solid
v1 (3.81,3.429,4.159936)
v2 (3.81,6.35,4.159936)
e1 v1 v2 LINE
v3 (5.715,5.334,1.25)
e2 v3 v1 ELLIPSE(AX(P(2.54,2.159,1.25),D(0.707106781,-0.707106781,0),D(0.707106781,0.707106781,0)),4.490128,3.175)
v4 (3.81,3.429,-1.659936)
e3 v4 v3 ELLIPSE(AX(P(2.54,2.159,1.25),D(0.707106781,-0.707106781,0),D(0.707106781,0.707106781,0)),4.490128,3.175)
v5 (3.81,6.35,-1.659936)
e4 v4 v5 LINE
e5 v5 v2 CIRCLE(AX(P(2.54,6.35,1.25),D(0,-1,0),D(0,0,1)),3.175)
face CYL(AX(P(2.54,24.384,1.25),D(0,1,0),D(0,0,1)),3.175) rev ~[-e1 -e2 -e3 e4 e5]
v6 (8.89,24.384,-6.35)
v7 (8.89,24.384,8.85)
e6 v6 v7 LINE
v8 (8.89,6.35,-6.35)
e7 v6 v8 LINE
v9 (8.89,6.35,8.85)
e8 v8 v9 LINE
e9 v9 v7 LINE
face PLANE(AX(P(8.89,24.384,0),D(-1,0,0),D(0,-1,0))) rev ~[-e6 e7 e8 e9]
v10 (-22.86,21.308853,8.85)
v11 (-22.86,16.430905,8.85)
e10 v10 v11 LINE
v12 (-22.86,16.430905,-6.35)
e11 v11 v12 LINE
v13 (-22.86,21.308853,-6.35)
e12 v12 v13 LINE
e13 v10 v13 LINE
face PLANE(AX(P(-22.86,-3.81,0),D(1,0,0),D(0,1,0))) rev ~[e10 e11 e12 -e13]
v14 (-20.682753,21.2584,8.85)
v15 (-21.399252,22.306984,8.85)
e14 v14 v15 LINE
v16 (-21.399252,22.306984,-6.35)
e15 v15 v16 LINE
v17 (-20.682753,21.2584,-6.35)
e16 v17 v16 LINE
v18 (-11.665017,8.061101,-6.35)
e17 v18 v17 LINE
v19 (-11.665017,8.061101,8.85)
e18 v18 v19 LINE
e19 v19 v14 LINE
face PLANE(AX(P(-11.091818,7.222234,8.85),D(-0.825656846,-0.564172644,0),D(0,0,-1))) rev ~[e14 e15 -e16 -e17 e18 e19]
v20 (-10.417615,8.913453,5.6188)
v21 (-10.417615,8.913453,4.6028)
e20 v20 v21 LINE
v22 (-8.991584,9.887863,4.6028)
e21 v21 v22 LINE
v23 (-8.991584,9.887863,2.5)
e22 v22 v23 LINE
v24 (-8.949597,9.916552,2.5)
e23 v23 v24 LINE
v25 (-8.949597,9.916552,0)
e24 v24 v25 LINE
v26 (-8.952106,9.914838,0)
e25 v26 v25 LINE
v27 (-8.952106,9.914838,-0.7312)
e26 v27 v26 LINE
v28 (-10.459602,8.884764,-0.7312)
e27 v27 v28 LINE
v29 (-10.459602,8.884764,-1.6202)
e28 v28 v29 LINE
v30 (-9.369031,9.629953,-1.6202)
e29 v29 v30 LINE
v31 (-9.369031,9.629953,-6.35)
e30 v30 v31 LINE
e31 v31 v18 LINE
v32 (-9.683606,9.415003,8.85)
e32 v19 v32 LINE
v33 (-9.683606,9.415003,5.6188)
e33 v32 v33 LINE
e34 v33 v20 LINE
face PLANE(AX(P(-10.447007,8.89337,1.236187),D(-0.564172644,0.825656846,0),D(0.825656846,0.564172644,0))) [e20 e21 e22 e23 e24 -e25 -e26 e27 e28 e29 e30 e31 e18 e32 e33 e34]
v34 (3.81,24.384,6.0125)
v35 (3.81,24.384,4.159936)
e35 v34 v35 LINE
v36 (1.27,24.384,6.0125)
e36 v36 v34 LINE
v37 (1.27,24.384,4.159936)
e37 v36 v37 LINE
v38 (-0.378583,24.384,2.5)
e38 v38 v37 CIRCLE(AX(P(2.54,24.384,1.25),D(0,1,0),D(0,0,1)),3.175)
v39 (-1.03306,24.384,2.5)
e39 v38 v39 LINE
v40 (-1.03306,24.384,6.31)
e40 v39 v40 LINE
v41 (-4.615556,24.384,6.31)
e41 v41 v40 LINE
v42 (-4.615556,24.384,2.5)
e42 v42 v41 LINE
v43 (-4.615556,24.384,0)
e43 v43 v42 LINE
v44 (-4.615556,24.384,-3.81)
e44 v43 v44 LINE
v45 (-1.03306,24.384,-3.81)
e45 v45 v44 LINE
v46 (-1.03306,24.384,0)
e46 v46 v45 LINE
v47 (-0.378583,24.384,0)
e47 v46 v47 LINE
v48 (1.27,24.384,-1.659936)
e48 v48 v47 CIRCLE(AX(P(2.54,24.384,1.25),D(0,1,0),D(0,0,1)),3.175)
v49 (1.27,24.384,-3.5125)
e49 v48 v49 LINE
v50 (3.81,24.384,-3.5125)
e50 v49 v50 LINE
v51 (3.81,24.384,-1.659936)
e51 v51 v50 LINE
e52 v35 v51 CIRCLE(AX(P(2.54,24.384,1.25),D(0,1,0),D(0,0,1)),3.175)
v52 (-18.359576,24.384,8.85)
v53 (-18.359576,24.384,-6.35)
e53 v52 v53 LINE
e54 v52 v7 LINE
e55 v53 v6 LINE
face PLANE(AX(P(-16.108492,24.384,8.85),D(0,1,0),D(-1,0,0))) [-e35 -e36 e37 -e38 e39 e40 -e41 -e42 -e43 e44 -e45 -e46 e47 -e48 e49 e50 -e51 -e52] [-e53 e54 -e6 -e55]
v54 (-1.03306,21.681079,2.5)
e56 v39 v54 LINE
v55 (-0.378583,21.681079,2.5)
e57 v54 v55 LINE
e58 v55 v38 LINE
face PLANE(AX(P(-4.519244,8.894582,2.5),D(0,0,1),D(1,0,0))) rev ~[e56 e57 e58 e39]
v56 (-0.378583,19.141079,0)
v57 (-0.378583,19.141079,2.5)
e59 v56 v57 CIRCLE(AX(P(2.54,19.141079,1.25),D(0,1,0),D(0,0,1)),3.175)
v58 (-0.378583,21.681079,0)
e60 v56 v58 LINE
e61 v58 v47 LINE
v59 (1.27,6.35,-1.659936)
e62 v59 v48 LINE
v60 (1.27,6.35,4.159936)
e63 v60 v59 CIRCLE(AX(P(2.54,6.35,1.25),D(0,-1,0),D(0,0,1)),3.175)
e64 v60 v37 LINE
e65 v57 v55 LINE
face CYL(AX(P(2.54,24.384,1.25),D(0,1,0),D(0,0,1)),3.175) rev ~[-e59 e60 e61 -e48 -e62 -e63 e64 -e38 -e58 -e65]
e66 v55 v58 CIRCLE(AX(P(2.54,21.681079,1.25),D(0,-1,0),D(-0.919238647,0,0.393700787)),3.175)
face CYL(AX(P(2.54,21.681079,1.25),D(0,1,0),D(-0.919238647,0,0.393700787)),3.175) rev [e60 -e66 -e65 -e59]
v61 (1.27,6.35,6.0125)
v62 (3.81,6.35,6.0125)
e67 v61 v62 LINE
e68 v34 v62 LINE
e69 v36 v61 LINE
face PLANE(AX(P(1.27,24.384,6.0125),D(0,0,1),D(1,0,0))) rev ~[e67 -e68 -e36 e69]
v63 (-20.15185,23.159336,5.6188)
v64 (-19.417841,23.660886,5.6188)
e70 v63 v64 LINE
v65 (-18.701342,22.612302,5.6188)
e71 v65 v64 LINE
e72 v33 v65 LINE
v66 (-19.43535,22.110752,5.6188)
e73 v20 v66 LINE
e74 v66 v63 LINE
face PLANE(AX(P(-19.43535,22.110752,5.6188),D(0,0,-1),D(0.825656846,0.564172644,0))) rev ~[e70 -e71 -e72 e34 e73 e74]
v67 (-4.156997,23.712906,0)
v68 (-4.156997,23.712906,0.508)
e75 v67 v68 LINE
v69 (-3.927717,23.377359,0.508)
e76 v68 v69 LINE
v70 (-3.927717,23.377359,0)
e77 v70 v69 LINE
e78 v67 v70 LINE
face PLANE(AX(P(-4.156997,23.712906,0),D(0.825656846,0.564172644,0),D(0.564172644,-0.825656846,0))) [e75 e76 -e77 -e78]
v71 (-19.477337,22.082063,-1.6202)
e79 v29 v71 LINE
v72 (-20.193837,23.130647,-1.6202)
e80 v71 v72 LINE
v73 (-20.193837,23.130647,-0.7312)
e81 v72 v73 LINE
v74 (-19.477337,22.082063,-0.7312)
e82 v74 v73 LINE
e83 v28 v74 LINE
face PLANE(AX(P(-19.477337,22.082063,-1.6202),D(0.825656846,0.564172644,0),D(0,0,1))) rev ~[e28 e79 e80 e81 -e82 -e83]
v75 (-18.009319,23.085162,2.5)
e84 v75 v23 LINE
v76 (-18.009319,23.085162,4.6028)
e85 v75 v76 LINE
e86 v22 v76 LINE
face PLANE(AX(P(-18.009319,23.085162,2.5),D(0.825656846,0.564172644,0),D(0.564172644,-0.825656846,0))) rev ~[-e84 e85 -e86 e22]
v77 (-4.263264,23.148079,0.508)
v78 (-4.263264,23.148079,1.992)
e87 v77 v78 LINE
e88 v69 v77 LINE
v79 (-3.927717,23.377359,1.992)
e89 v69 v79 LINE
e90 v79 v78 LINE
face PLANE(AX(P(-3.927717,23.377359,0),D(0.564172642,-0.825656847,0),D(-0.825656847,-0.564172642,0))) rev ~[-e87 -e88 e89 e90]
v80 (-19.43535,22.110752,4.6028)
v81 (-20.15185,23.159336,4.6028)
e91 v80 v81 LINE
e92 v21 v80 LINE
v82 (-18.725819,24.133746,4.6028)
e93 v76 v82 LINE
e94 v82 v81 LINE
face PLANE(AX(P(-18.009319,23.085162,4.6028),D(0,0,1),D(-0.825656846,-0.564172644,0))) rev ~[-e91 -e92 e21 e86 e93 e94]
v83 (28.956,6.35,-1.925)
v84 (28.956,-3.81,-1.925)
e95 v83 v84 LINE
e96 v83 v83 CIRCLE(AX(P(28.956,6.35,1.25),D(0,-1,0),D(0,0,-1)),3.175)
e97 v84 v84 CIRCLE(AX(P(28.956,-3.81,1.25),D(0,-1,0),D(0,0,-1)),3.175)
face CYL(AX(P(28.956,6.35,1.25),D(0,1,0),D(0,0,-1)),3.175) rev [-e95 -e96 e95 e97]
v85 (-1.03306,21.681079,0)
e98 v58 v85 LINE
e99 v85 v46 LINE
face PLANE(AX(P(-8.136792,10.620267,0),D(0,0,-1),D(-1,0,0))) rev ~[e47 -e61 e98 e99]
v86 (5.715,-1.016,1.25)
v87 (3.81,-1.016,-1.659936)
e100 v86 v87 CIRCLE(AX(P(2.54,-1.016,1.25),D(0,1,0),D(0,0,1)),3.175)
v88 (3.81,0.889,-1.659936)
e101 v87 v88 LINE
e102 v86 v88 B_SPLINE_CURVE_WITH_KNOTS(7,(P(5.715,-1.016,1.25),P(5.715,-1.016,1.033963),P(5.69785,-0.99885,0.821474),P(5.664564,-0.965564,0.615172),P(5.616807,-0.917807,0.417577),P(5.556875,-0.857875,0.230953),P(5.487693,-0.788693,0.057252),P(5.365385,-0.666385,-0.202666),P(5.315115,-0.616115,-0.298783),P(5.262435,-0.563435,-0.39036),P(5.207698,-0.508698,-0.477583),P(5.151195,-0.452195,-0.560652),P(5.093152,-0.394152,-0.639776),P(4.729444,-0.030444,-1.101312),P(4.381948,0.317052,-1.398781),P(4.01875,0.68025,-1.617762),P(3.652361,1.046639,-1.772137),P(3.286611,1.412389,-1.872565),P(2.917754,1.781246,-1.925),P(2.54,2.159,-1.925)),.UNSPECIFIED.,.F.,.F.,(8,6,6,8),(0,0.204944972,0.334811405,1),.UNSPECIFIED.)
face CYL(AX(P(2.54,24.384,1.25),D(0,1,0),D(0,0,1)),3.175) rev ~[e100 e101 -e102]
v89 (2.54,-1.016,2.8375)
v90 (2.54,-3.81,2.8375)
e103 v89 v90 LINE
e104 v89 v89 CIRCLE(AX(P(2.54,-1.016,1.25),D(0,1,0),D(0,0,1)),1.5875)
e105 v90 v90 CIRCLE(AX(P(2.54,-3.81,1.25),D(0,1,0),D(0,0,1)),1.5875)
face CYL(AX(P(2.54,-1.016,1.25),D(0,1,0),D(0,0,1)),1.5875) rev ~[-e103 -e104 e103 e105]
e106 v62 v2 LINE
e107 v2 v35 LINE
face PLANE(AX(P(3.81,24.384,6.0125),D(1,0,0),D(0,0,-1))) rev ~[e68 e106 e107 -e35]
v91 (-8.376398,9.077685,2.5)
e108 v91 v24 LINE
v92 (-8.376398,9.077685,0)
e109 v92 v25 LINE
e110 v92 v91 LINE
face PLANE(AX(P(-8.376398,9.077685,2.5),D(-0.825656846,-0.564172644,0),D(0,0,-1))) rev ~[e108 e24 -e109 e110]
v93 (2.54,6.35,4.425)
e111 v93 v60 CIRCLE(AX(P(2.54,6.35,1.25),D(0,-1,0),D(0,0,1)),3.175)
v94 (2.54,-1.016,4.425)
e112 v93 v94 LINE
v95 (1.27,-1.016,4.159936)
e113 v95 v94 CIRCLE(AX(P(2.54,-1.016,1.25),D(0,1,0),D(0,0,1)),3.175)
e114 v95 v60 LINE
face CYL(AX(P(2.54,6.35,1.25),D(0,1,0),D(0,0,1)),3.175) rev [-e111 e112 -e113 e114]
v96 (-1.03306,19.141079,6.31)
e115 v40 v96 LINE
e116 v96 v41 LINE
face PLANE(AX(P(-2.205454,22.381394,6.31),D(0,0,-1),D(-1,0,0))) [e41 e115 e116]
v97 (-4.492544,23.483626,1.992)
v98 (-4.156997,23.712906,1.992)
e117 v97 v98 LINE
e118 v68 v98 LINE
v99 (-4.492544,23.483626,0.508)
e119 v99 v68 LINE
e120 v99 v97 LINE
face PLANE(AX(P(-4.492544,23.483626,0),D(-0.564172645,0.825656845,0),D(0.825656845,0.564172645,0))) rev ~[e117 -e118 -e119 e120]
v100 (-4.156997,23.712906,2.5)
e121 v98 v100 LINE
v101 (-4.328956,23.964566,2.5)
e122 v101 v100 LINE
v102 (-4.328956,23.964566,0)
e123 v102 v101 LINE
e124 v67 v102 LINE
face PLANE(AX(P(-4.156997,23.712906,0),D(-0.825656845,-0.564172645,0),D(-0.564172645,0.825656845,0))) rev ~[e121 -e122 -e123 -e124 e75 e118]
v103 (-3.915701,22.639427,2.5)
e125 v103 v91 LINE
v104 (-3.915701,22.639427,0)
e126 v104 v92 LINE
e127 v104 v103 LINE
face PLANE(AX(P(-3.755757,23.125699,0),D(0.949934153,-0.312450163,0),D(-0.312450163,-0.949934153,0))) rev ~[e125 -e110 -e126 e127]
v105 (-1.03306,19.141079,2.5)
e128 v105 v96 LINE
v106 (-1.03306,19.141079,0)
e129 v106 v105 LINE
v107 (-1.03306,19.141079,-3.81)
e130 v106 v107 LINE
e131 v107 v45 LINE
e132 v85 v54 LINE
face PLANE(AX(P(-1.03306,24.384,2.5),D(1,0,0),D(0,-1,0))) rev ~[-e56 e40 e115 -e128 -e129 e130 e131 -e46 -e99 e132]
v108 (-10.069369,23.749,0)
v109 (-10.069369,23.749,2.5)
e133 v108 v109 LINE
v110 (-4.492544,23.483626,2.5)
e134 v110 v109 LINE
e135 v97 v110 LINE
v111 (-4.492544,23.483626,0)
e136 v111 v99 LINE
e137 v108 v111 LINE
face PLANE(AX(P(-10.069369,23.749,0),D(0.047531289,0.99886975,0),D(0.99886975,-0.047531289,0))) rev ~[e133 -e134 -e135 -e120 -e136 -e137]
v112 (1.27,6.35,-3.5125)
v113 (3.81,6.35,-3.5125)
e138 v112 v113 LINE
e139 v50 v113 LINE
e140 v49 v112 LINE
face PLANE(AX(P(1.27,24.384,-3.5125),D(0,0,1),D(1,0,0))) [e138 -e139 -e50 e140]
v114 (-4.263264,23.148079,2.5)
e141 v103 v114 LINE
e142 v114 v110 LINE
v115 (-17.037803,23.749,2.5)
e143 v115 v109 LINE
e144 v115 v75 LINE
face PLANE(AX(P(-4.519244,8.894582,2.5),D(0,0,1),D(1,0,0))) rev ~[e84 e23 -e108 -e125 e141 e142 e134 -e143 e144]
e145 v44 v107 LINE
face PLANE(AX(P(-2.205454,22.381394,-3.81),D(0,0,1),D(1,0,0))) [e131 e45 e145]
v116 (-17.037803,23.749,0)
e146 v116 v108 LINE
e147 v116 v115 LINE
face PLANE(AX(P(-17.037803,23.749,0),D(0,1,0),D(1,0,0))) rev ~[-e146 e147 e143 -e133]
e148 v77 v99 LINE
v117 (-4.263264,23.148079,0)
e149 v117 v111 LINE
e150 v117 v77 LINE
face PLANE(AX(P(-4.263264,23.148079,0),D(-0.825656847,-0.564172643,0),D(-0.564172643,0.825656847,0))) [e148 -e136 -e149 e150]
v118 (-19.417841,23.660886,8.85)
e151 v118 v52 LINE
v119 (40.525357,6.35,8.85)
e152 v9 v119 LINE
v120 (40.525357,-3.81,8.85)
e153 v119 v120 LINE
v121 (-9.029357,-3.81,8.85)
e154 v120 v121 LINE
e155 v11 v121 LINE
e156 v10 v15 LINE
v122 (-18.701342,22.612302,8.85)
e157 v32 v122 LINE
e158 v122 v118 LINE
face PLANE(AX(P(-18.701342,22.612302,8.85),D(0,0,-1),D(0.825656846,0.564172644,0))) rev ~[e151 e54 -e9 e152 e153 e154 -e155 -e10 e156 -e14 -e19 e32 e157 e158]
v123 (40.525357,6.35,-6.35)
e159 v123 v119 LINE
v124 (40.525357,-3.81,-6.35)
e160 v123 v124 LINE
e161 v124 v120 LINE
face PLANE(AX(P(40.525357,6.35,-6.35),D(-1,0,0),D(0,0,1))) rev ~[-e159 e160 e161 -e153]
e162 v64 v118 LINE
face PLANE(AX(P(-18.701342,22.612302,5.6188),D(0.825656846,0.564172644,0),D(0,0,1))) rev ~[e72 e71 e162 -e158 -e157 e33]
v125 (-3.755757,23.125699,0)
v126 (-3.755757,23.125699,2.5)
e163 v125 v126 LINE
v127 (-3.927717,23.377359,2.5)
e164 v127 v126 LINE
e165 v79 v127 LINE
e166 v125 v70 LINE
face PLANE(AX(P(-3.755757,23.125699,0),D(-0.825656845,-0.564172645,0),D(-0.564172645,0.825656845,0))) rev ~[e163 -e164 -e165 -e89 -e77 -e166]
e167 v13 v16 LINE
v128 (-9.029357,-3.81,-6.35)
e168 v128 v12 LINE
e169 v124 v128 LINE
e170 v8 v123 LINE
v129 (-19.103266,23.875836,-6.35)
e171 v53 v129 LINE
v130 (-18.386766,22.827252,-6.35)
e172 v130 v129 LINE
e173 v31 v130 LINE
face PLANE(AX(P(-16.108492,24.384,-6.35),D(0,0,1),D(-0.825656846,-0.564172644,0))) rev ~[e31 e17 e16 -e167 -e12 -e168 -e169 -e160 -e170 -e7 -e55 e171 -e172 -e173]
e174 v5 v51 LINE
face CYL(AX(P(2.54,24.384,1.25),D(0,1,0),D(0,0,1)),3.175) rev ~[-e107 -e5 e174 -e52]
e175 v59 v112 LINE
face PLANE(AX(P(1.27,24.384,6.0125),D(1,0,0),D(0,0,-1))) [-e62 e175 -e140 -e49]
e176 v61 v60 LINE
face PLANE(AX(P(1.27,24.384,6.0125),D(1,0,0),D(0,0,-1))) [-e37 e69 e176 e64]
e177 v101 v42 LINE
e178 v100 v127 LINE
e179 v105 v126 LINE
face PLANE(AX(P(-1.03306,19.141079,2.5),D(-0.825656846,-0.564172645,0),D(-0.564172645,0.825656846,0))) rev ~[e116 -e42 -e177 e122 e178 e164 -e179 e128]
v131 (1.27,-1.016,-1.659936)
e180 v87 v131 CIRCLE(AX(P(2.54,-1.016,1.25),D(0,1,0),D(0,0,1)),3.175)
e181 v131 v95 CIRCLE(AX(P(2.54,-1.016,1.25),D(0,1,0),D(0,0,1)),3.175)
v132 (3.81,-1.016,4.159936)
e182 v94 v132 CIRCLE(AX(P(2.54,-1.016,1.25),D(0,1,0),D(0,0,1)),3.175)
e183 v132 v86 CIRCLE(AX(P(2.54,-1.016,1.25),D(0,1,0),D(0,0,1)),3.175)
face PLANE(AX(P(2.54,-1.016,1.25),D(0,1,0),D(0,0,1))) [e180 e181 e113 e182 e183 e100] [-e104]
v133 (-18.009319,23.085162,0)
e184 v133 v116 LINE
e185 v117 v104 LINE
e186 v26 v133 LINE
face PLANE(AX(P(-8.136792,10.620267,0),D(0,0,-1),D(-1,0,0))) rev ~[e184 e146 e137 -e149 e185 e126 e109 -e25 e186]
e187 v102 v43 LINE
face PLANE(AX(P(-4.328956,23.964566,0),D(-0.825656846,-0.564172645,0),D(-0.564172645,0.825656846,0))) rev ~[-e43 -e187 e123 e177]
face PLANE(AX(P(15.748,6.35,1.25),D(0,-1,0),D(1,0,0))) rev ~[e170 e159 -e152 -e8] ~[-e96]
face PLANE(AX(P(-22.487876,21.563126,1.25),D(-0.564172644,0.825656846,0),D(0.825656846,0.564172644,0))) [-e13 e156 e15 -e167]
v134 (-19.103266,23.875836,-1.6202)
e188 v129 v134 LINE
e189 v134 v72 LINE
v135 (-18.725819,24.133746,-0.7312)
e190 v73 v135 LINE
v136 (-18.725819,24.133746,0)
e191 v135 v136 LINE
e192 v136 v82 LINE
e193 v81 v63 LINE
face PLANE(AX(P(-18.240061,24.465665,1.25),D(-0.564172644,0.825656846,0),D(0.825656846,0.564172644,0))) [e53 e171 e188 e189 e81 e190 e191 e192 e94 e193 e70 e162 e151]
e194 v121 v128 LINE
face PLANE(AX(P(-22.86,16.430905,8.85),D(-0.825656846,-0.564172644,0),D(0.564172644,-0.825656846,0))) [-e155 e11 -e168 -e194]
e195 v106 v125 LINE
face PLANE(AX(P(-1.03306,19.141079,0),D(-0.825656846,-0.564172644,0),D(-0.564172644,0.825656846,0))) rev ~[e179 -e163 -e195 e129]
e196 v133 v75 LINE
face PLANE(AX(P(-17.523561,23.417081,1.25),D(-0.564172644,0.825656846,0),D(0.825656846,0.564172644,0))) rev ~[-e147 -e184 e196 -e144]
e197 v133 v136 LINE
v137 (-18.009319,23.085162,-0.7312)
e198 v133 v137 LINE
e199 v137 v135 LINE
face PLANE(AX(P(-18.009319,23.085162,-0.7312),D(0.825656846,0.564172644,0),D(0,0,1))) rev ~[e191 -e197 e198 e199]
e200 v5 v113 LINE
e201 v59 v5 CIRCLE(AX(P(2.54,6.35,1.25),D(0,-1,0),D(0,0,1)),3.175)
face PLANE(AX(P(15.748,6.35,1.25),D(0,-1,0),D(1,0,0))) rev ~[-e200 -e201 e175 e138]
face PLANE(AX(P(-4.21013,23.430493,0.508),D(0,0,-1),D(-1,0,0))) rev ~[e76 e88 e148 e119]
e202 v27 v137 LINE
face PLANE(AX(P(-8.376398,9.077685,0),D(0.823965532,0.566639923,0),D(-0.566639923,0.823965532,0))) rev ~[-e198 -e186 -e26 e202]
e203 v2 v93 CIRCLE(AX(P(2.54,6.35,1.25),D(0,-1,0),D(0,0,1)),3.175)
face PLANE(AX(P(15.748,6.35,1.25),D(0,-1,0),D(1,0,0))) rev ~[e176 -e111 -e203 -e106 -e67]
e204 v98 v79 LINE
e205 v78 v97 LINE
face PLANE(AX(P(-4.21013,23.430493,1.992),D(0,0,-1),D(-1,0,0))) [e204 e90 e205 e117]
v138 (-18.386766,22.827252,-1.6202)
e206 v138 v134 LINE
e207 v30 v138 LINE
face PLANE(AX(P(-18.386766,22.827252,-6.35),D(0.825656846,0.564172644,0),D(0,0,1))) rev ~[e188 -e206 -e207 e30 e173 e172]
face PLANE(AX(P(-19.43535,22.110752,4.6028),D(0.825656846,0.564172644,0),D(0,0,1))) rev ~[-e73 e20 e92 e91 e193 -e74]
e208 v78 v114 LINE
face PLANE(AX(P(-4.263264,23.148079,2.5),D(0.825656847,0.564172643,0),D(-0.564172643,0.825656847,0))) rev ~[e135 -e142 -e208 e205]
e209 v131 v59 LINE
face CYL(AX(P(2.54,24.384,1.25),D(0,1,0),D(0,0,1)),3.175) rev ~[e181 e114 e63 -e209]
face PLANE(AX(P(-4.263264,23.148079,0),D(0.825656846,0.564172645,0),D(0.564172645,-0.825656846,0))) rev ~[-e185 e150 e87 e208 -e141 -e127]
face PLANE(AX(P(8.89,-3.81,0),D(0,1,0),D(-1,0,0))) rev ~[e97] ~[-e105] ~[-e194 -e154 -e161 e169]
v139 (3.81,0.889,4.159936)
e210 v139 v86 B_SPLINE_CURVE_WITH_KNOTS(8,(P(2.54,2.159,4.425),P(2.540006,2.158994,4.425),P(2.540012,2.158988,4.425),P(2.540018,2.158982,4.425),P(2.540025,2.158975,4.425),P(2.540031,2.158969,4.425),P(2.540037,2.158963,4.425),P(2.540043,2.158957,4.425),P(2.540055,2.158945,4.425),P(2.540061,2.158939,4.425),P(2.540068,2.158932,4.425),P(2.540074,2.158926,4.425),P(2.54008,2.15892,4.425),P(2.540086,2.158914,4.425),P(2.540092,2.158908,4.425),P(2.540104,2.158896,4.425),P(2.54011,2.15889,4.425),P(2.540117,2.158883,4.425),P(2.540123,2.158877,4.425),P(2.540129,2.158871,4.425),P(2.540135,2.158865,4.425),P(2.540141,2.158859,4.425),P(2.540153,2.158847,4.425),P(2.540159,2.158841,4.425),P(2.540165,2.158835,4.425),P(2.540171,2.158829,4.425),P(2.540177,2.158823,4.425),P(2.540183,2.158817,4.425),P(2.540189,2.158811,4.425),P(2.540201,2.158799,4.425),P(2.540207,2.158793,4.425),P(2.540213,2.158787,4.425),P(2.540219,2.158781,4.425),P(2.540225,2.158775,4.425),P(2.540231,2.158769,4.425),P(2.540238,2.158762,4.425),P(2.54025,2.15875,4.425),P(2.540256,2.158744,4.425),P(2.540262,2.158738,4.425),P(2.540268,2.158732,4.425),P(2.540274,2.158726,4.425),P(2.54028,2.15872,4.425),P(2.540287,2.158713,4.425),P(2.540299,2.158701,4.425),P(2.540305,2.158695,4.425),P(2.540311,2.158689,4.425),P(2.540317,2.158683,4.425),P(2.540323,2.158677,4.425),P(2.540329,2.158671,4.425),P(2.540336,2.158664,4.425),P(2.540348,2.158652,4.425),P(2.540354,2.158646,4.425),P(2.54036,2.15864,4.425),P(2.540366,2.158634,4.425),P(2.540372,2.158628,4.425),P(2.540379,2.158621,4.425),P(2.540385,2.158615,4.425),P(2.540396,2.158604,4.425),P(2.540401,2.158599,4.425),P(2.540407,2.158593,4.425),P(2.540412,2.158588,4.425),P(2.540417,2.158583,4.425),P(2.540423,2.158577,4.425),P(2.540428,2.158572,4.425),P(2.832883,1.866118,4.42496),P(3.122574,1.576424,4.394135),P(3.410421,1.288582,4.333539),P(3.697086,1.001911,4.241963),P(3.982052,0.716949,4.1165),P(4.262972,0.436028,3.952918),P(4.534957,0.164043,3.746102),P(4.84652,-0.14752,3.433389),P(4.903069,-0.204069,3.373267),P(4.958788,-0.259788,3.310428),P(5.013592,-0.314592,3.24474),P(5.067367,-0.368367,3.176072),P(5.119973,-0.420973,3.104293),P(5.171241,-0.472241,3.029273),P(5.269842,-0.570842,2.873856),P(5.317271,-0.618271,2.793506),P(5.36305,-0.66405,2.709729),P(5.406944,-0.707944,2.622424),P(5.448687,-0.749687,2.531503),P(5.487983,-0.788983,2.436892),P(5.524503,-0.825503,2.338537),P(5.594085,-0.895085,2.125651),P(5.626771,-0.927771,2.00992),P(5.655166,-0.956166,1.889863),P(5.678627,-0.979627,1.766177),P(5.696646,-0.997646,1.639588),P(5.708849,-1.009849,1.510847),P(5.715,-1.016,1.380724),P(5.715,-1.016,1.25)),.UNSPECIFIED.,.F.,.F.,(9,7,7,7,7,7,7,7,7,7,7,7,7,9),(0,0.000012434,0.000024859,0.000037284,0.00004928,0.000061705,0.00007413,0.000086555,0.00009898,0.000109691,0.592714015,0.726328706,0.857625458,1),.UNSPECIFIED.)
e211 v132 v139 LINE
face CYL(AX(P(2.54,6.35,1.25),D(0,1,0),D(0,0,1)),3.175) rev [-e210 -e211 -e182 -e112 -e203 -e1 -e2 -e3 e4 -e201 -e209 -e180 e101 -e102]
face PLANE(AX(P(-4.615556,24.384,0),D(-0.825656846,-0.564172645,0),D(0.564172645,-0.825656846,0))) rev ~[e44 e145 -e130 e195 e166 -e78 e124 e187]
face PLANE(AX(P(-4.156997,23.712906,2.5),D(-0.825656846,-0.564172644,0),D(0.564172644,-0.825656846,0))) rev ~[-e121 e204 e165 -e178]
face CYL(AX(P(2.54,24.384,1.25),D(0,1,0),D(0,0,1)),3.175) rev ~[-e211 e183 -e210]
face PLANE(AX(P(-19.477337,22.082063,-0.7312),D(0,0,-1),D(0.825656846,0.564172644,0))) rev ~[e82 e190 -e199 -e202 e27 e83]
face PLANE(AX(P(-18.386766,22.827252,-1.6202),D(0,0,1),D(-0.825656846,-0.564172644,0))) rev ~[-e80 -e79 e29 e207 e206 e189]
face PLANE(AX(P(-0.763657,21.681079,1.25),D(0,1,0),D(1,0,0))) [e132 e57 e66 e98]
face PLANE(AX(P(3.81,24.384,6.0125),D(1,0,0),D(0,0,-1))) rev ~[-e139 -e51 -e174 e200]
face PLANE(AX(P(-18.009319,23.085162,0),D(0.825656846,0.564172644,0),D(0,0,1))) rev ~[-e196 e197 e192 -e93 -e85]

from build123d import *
from build123d.topology import SkipClean

# Parameters (mm, degrees)
BOSS_EXTRUDE1_DEPTH     = 2.5
BOSS_EXTRUDE1_2_DEPTH   = 2.5
BOSS_EXTRUDE2_DEPTH     = 6.35
BOSS_EXTRUDE3_DEPTH     = 6.35
SKETCH4_R               = 3.175
CUT_EXTRUDE1_DEPTH      = 25.4
SKETCH5_R               = 1.5875
CUT_EXTRUDE2_DEPTH      = 25.4
CUT_EXTRUDE3_DEPTH      = 25.4
CUT_EXTRUDE4_REACH      = 43
CUT_EXTRUDE4_END_RADIUS = 3.175
CUT_EXTRUDE5_REACH      = 39.36
SKETCH8_W               = 2.54
SKETCH8_H               = 9.525
SKETCH9_W               = 0.7112
SKETCH9_H               = 15.2
BOSS_EXTRUDE4_DEPTH     = 17
BOSS_EXTRUDE5_DEPTH     = 1.016
SKETCH11_W              = 1.176658287
SKETCH11_H              = 2.5
SKETCH11_W_2            = 2.636987944
SKETCH11_H_2            = 15.2
BOSS_EXTRUDE6_DEPTH     = 1.27
CUT_EXTRUDE6_DEPTH      = 38.864332241
BOSS_EXTRUDE7_START     = 2.54
BOSS_EXTRUDE7_DEPTH     = 2.54
BOSS_EXTRUDE8_DEPTH     = 2.54
BOSS_EXTRUDE9_DEPTH     = 0.508
BOSS_EXTRUDE10_DEPTH    = 0.508
CUT_EXTRUDE7_DEPTH      = 3.81
CUT_EXTRUDE8_DEPTH      = 3.81
BOSS_EXTRUDE11_DEPTH    = 3.81
BOSS_EXTRUDE12_START    = -10.16
SKETCH21_W              = 49.554714962
SKETCH21_H              = 15.2
SKETCH21_R              = 3.175
BOSS_EXTRUDE12_DEPTH    = 10.16


with BuildPart() as part:
    # Sketch1 → Boss-Extrude1 (new body)
    with BuildSketch(Plane.XY):
        Polygon((5.08, 0), (0, 0), (0, 19.141079028), (-1.033059908, 19.141079028), (-3.75575709, 23.125698967), (-8.376397661, 9.077684872), (-11.679025045, 6.820994294), (-21.26996, 20.857160675), (-22.86, 19.770683798), (-22.86, -3.81), (8.89, -3.81), (8.89, 24.384), (5.08, 24.384), align=None)
    extrude(amount=BOSS_EXTRUDE1_DEPTH)



with BuildPart() as body_2:
    # Sketch1 → Boss-Extrude1 2 (new body)
    with BuildSketch(Plane.XY):
        Polygon((-10.069369191, 23.749), (-4.328956497, 23.964566322), (-4.615556201, 24.384), (-16.108492032, 24.384), (-17.03780348, 23.749), align=None)
    extrude(amount=BOSS_EXTRUDE1_2_DEPTH)


with BuildPart() as part_1:
    add(part.part)

    add(body_2.part)  # Boss-Extrude2 merges body 2
    # Sketch2 → Boss-Extrude2 (add)
    with BuildSketch(Plane.XY.offset(2.5)):
        Polygon((-11.679025045, 6.820994294), (-21.26996, 20.857160675), (-22.86, 19.770683798), (-22.86, -3.81), (8.89, -3.81), (8.89, 24.384), (5.08, 24.384), (5.08, 0), (0, 0), (0, 19.141079028), (-1.033059908, 19.141079028), (-3.75575709, 23.125698967), (-8.376397661, 9.077684872), align=None)
        Polygon((-16.108492032, 24.384), (-18.00931945, 23.085161582), (-8.418384495, 9.048995201), (-8.376397661, 9.077684872), (-3.75575709, 23.125698967), (-1.033059908, 19.141079028), (0, 19.141079028), (0, 0), (5.08, 0), (5.08, 24.384), align=None)
    extrude(amount=BOSS_EXTRUDE2_DEPTH)

    # Sketch3 → Boss-Extrude3 (add)
    with BuildSketch(Plane(origin=(0, 0, 0), x_dir=(-1, 0, 0), z_dir=(0, 0, -1))):
        Polygon((-8.89, 24.384), (-8.89, -3.81), (22.86, -3.81), (22.86, 19.770683798), (21.26996, 20.857160675), (11.679025045, 6.820994294), (8.376397661, 9.077684872), (18.00931945, 23.085161582), (16.108492032, 24.384), align=None)
    extrude(amount=BOSS_EXTRUDE3_DEPTH)

    # Sketch4 → Cut-Extrude1 (cut)
    with BuildSketch(Plane(origin=(0, 24.384, 0), x_dir=(1, 0, 0), z_dir=(0, 1, 0))):
        with Locations(Location((2.54, -1.25, 0), (0, 0, 270))):
            Circle(SKETCH4_R)
    extrude(amount=-CUT_EXTRUDE1_DEPTH, mode=Mode.SUBTRACT)

    # Sketch5 → Cut-Extrude2 (cut)
    with BuildSketch(Plane(origin=(0, -1.016, 0), x_dir=(1, 0, 0), z_dir=(0, 1, 0))):
        with Locations(Location((2.54, -1.25, 0), (0, 0, 270))):
            Circle(SKETCH5_R)
    extrude(amount=-CUT_EXTRUDE2_DEPTH, mode=Mode.SUBTRACT)

    # Sketch6 → Cut-Extrude3 (cut)
    with BuildSketch(Plane.XY.offset(8.85)):
        Polygon((-22.86, 16.430904611), (-9.029357481, -3.81), (-22.86, -3.81), align=None)
    extrude(amount=-CUT_EXTRUDE3_DEPTH, mode=Mode.SUBTRACT)

    # Cut-Extrude4: up to this cylinder (the profile starts outside it)
    with SkipClean():  # the faces are left unmerged after this step: merging them gives an invalid solid
        cut_extrude4_end = Plane(origin=(2.54, 2.159, 1.25), z_dir=(0, 1, 0)) * Cylinder(CUT_EXTRUDE4_END_RADIUS, 96.045024, mode=Mode.PRIVATE)
        # Sketch7 → Cut-Extrude4 (cut, up to the surface)
        with BuildSketch(Plane(origin=(8.89, 0, 0), x_dir=(0, 0, -1), z_dir=(1, 0, 0)), mode=Mode.PRIVATE) as cut_extrude4_sk1:
            with BuildLine():
                ThreePointArc((1.925, 2.159), (-1.25, 5.334), (-4.425, 2.159))
                Line((-4.425, 2.159), (1.925, 2.159))
            make_face()
        cut_extrude4_tool1 = extrude(cut_extrude4_sk1.sketch, amount=-CUT_EXTRUDE4_REACH, mode=Mode.PRIVATE) - cut_extrude4_end
        add(cut_extrude4_tool1.solids().sort_by_distance((8.89, 3.506512, 1.25))[0], mode=Mode.SUBTRACT)
        # Sketch7 → Cut-Extrude4 (cut, up to the surface)
        with BuildSketch(Plane(origin=(8.89, 0, 0), x_dir=(0, 0, -1), z_dir=(1, 0, 0)), mode=Mode.PRIVATE) as cut_extrude4_sk2:
            with BuildLine():
                Line((1.925, 2.159), (-4.425, 2.159))
                ThreePointArc((-4.425, 2.159), (-3.49506403, -0.08606403), (-1.25, -1.016))
                ThreePointArc((-1.25, -1.016), (0.99506403, -0.08606403), (1.925, 2.159))
            make_face()
        cut_extrude4_tool2 = extrude(cut_extrude4_sk2.sketch, amount=-CUT_EXTRUDE4_REACH, mode=Mode.PRIVATE) - cut_extrude4_end
        add(cut_extrude4_tool2.solids().sort_by_distance((8.89, 0.811488, 1.25))[0], mode=Mode.SUBTRACT)
        # Sketch7 → Cut-Extrude4 (cut, up to the surface)
        with BuildSketch(Plane(origin=(8.89, 0, 0), x_dir=(0, 0, -1), z_dir=(1, 0, 0)), mode=Mode.PRIVATE) as cut_extrude4_sk3:
            with BuildLine():
                ThreePointArc((1.925, 2.159), (-1.25, 5.334), (-4.425, 2.159))
                Line((-4.425, 2.159), (1.925, 2.159))
            make_face()
        cut_extrude4_tool3 = extrude(cut_extrude4_sk3.sketch, amount=-CUT_EXTRUDE4_REACH, mode=Mode.PRIVATE) - cut_extrude4_end
        add(cut_extrude4_tool3.solids().sort_by_distance((8.89, 3.506512, 1.25))[0], mode=Mode.SUBTRACT)
        # Sketch7 → Cut-Extrude4 (cut, up to the surface)
        with BuildSketch(Plane(origin=(8.89, 0, 0), x_dir=(0, 0, -1), z_dir=(1, 0, 0)), mode=Mode.PRIVATE) as cut_extrude4_sk4:
            with BuildLine():
                Line((1.925, 2.159), (-4.425, 2.159))
                ThreePointArc((-4.425, 2.159), (-3.49506403, -0.08606403), (-1.25, -1.016))
                ThreePointArc((-1.25, -1.016), (0.99506403, -0.08606403), (1.925, 2.159))
            make_face()
        cut_extrude4_tool4 = extrude(cut_extrude4_sk4.sketch, amount=-CUT_EXTRUDE4_REACH, mode=Mode.PRIVATE) - cut_extrude4_end
        add(cut_extrude4_tool4.solids().sort_by_distance((8.89, 0.811488, 1.25))[0], mode=Mode.SUBTRACT)

    # Cut-Extrude5: up to this face of the body (flat: up to its plane)
    cut_extrude5_end = Plane(part_1.part.faces().sort_by_distance((4.72156403, -1.016, 3.43156403))[0])
    # Sketch8 → Cut-Extrude5 (cut, up to the picked face)
    with BuildSketch(Plane(origin=(0, 24.384, 0), x_dir=(1, 0, 0), z_dir=(0, 1, 0)), mode=Mode.PRIVATE) as cut_extrude5_sk1:
        with Locations((2.54, -1.25)):
            Rectangle(SKETCH8_W, SKETCH8_H)
    cut_extrude5_tool1 = split(extrude(cut_extrude5_sk1.sketch, amount=-CUT_EXTRUDE5_REACH, mode=Mode.PRIVATE), bisect_by=cut_extrude5_end, keep=Keep.BOTH, mode=Mode.PRIVATE)
    add(cut_extrude5_tool1.solids().sort_by(Axis((2.54, 24.384, 1.25), (0, -1, 0)))[0], mode=Mode.SUBTRACT)

    # Sketch9 → Boss-Extrude4 (add)
    with BuildSketch(Plane(origin=(-6.894633763, 10.090176515, 0), x_dir=(0.825656845959394, 0.5641726444275594, 0), z_dir=(-0.5641726444275594, 0.825656845959394, 0))):
        with Locations((-5.439048594, -1.25)):
            Rectangle(SKETCH9_W, SKETCH9_H)
        Polygon((-1.794648594, 6.35), (-2.302648594, 6.35), (-2.302648594, 1.6202), (-3.623501238, 1.6202), (-3.623501238, 0.7312), (-1.794648594, 0.7312), align=None)
        Polygon((-1.845501238, -8.85), (-1.845501238, -4.6028), (-3.572648594, -4.6028), (-3.572648594, -5.6188), (-2.683648594, -5.6188), (-2.683648594, -8.85), align=None)
    extrude(amount=BOSS_EXTRUDE4_DEPTH)

    # Sketch10 → Boss-Extrude5 (add)
    with BuildSketch(Plane(origin=(-6.894633763, 10.090176515, 0), x_dir=(0.8256568459593948, 0.5641726444275585, 0), z_dir=(-0.5641726444275585, 0.8256568459593948, 0))):
        Polygon((-5.083448594, -8.85), (-2.683648594, -8.85), (-2.683648594, -5.6188), (-3.572648594, -5.6188), (-3.572648594, -4.6028), (-1.845501238, -4.6028), (-1.845501238, -2.5), (-1.794648594, -2.5), (-1.794648594, 0), (-1.794648594, 0.7312), (-3.623501238, 0.7312), (-3.623501238, 1.6202), (-2.302648594, 1.6202), (-2.302648594, 6.35), (-5.083448594, 6.35), align=None)
    extrude(amount=BOSS_EXTRUDE5_DEPTH)

    # Sketch11 → Boss-Extrude6 (add)
    with BuildSketch(Plane(origin=(-16.485568719, 24.126342896, 0), x_dir=(0.8256568459593935, 0.5641726444275603, 0), z_dir=(-0.5641726444275603, 0.8256568459593935, 0))):
        with Locations((-1.257172095, -1.25)):
            Rectangle(SKETCH11_W, SKETCH11_H)
        Polygon((-3.623501238, 1.6202), (-3.623501238, 0.7312), (-1.845501238, 0.7312), (-1.845501238, 0), (-0.668842951, 0), (-0.668842951, -2.5), (-1.845501238, -2.5), (-1.845501238, -4.6028), (-3.572648594, -4.6028), (-3.572648594, -5.6188), (-2.683648594, -5.6188), (-2.683648594, -8.85), (0.456699038, -8.85), (0.456699038, 6.35), (-2.302648594, 6.35), (-2.302648594, 1.6202), align=None)
        with Locations((-6.401942566, -1.25)):
            Rectangle(SKETCH11_W_2, SKETCH11_H_2)
    extrude(amount=BOSS_EXTRUDE6_DEPTH)

    # Sketch12 → Cut-Extrude6 (cut, through all)
    with BuildSketch(Plane.XY.offset(8.85)):
        Polygon((-16.108492032, 24.384), (-18.359576008, 24.384), (-16.82499129, 25.432584194), align=None)
        Polygon((-22.86, 19.770683798), (-22.86, 21.308853083), (-23.576499258, 20.819267993), align=None)
    extrude(amount=-CUT_EXTRUDE6_DEPTH, mode=Mode.SUBTRACT)

    # Sketch13 → Boss-Extrude7 (add)
    with BuildSketch(Plane(origin=(0, 19.141079028, 0), x_dir=(1, 0, 0), z_dir=(0, 1, 0)).offset(BOSS_EXTRUDE7_START)):
        with BuildLine():
            Line((-0.378582704, 0), (-1.033059908, 0))
            Line((-1.033059908, 0), (-1.033059908, -2.5))
            Line((-1.033059908, -2.5), (-0.378582704, -2.5))
            ThreePointArc((-0.378582704, -2.5), (-0.635, -1.25), (-0.378582704, 0))
        make_face()
    extrude(amount=-BOSS_EXTRUDE7_DEPTH)

    # Sketch15 → Boss-Extrude8 (add)
    with BuildSketch(Plane.XY):
        Polygon((-4.156996675, 23.712906116), (-4.328956497, 23.964566322), (-4.808856613, 23.946544917), (-4.492543617, 23.483626353), align=None)
        Polygon((-3.75575709, 23.125698967), (-3.927716912, 23.377359173), (-4.263263855, 23.148079411), (-3.915700647, 22.639426706), align=None)
    extrude(amount=BOSS_EXTRUDE8_DEPTH)

    # Sketch16 → Boss-Extrude9 (add)
    with BuildSketch(Plane.XY):
        Polygon((-4.263263855, 23.148079411), (-4.492543617, 23.483626353), (-4.156996675, 23.712906116), (-3.927716912, 23.377359173), align=None)
    extrude(amount=BOSS_EXTRUDE9_DEPTH)

    # Sketch17 → Boss-Extrude10 (add)
    with BuildSketch(Plane(origin=(0, 0, 2.5), x_dir=(-1, 0, 0), z_dir=(0, 0, -1))):
        Polygon((4.263263855, 23.148079411), (4.492543617, 23.483626353), (4.156996675, 23.712906116), (3.927716912, 23.377359173), align=None)
    extrude(amount=BOSS_EXTRUDE10_DEPTH)

    # Sketch18 → Cut-Extrude7 (cut)
    with BuildSketch(Plane(origin=(0, 0, 2.5), x_dir=(-1, 0, 0), z_dir=(0, 0, -1))):
        Polygon((1.033059908, 24.384), (1.033059908, 21.681079028), (1.033059908, 19.141079028), (4.615556201, 24.384), align=None)
    extrude(amount=-CUT_EXTRUDE7_DEPTH, mode=Mode.SUBTRACT)

    # Sketch19 → Cut-Extrude8 (cut)
    with BuildSketch(Plane.XY):
        Polygon((-1.033059908, 19.141079028), (-1.033059908, 21.681079028), (-1.033059908, 24.384), (-4.615556201, 24.384), align=None)
    extrude(amount=-CUT_EXTRUDE8_DEPTH, mode=Mode.SUBTRACT)

    # Sketch20 → Boss-Extrude11 (add)
    with BuildSketch(Plane.XY):
        Polygon((-10.069369191, 23.749), (-4.492543617, 23.483626353), (-4.808856613, 23.946544917), align=None)
    extrude(amount=BOSS_EXTRUDE11_DEPTH)

    # Sketch21 → Boss-Extrude12 (add)
    with BuildSketch(Plane.XZ.offset(3.81).offset(BOSS_EXTRUDE12_START)):
        with Locations((15.748, 1.25)):
            Rectangle(SKETCH21_W, SKETCH21_H)
        with Locations(Location((2.54, 1.25, 0), (0, 0, 90))):
            Circle(SKETCH21_R, mode=Mode.SUBTRACT)
        with Locations(Location((28.956, 1.25, 0), (0, 0, 270))):
            Circle(SKETCH21_R, mode=Mode.SUBTRACT)
    extrude(amount=BOSS_EXTRUDE12_DEPTH)


solid = part_1.part
